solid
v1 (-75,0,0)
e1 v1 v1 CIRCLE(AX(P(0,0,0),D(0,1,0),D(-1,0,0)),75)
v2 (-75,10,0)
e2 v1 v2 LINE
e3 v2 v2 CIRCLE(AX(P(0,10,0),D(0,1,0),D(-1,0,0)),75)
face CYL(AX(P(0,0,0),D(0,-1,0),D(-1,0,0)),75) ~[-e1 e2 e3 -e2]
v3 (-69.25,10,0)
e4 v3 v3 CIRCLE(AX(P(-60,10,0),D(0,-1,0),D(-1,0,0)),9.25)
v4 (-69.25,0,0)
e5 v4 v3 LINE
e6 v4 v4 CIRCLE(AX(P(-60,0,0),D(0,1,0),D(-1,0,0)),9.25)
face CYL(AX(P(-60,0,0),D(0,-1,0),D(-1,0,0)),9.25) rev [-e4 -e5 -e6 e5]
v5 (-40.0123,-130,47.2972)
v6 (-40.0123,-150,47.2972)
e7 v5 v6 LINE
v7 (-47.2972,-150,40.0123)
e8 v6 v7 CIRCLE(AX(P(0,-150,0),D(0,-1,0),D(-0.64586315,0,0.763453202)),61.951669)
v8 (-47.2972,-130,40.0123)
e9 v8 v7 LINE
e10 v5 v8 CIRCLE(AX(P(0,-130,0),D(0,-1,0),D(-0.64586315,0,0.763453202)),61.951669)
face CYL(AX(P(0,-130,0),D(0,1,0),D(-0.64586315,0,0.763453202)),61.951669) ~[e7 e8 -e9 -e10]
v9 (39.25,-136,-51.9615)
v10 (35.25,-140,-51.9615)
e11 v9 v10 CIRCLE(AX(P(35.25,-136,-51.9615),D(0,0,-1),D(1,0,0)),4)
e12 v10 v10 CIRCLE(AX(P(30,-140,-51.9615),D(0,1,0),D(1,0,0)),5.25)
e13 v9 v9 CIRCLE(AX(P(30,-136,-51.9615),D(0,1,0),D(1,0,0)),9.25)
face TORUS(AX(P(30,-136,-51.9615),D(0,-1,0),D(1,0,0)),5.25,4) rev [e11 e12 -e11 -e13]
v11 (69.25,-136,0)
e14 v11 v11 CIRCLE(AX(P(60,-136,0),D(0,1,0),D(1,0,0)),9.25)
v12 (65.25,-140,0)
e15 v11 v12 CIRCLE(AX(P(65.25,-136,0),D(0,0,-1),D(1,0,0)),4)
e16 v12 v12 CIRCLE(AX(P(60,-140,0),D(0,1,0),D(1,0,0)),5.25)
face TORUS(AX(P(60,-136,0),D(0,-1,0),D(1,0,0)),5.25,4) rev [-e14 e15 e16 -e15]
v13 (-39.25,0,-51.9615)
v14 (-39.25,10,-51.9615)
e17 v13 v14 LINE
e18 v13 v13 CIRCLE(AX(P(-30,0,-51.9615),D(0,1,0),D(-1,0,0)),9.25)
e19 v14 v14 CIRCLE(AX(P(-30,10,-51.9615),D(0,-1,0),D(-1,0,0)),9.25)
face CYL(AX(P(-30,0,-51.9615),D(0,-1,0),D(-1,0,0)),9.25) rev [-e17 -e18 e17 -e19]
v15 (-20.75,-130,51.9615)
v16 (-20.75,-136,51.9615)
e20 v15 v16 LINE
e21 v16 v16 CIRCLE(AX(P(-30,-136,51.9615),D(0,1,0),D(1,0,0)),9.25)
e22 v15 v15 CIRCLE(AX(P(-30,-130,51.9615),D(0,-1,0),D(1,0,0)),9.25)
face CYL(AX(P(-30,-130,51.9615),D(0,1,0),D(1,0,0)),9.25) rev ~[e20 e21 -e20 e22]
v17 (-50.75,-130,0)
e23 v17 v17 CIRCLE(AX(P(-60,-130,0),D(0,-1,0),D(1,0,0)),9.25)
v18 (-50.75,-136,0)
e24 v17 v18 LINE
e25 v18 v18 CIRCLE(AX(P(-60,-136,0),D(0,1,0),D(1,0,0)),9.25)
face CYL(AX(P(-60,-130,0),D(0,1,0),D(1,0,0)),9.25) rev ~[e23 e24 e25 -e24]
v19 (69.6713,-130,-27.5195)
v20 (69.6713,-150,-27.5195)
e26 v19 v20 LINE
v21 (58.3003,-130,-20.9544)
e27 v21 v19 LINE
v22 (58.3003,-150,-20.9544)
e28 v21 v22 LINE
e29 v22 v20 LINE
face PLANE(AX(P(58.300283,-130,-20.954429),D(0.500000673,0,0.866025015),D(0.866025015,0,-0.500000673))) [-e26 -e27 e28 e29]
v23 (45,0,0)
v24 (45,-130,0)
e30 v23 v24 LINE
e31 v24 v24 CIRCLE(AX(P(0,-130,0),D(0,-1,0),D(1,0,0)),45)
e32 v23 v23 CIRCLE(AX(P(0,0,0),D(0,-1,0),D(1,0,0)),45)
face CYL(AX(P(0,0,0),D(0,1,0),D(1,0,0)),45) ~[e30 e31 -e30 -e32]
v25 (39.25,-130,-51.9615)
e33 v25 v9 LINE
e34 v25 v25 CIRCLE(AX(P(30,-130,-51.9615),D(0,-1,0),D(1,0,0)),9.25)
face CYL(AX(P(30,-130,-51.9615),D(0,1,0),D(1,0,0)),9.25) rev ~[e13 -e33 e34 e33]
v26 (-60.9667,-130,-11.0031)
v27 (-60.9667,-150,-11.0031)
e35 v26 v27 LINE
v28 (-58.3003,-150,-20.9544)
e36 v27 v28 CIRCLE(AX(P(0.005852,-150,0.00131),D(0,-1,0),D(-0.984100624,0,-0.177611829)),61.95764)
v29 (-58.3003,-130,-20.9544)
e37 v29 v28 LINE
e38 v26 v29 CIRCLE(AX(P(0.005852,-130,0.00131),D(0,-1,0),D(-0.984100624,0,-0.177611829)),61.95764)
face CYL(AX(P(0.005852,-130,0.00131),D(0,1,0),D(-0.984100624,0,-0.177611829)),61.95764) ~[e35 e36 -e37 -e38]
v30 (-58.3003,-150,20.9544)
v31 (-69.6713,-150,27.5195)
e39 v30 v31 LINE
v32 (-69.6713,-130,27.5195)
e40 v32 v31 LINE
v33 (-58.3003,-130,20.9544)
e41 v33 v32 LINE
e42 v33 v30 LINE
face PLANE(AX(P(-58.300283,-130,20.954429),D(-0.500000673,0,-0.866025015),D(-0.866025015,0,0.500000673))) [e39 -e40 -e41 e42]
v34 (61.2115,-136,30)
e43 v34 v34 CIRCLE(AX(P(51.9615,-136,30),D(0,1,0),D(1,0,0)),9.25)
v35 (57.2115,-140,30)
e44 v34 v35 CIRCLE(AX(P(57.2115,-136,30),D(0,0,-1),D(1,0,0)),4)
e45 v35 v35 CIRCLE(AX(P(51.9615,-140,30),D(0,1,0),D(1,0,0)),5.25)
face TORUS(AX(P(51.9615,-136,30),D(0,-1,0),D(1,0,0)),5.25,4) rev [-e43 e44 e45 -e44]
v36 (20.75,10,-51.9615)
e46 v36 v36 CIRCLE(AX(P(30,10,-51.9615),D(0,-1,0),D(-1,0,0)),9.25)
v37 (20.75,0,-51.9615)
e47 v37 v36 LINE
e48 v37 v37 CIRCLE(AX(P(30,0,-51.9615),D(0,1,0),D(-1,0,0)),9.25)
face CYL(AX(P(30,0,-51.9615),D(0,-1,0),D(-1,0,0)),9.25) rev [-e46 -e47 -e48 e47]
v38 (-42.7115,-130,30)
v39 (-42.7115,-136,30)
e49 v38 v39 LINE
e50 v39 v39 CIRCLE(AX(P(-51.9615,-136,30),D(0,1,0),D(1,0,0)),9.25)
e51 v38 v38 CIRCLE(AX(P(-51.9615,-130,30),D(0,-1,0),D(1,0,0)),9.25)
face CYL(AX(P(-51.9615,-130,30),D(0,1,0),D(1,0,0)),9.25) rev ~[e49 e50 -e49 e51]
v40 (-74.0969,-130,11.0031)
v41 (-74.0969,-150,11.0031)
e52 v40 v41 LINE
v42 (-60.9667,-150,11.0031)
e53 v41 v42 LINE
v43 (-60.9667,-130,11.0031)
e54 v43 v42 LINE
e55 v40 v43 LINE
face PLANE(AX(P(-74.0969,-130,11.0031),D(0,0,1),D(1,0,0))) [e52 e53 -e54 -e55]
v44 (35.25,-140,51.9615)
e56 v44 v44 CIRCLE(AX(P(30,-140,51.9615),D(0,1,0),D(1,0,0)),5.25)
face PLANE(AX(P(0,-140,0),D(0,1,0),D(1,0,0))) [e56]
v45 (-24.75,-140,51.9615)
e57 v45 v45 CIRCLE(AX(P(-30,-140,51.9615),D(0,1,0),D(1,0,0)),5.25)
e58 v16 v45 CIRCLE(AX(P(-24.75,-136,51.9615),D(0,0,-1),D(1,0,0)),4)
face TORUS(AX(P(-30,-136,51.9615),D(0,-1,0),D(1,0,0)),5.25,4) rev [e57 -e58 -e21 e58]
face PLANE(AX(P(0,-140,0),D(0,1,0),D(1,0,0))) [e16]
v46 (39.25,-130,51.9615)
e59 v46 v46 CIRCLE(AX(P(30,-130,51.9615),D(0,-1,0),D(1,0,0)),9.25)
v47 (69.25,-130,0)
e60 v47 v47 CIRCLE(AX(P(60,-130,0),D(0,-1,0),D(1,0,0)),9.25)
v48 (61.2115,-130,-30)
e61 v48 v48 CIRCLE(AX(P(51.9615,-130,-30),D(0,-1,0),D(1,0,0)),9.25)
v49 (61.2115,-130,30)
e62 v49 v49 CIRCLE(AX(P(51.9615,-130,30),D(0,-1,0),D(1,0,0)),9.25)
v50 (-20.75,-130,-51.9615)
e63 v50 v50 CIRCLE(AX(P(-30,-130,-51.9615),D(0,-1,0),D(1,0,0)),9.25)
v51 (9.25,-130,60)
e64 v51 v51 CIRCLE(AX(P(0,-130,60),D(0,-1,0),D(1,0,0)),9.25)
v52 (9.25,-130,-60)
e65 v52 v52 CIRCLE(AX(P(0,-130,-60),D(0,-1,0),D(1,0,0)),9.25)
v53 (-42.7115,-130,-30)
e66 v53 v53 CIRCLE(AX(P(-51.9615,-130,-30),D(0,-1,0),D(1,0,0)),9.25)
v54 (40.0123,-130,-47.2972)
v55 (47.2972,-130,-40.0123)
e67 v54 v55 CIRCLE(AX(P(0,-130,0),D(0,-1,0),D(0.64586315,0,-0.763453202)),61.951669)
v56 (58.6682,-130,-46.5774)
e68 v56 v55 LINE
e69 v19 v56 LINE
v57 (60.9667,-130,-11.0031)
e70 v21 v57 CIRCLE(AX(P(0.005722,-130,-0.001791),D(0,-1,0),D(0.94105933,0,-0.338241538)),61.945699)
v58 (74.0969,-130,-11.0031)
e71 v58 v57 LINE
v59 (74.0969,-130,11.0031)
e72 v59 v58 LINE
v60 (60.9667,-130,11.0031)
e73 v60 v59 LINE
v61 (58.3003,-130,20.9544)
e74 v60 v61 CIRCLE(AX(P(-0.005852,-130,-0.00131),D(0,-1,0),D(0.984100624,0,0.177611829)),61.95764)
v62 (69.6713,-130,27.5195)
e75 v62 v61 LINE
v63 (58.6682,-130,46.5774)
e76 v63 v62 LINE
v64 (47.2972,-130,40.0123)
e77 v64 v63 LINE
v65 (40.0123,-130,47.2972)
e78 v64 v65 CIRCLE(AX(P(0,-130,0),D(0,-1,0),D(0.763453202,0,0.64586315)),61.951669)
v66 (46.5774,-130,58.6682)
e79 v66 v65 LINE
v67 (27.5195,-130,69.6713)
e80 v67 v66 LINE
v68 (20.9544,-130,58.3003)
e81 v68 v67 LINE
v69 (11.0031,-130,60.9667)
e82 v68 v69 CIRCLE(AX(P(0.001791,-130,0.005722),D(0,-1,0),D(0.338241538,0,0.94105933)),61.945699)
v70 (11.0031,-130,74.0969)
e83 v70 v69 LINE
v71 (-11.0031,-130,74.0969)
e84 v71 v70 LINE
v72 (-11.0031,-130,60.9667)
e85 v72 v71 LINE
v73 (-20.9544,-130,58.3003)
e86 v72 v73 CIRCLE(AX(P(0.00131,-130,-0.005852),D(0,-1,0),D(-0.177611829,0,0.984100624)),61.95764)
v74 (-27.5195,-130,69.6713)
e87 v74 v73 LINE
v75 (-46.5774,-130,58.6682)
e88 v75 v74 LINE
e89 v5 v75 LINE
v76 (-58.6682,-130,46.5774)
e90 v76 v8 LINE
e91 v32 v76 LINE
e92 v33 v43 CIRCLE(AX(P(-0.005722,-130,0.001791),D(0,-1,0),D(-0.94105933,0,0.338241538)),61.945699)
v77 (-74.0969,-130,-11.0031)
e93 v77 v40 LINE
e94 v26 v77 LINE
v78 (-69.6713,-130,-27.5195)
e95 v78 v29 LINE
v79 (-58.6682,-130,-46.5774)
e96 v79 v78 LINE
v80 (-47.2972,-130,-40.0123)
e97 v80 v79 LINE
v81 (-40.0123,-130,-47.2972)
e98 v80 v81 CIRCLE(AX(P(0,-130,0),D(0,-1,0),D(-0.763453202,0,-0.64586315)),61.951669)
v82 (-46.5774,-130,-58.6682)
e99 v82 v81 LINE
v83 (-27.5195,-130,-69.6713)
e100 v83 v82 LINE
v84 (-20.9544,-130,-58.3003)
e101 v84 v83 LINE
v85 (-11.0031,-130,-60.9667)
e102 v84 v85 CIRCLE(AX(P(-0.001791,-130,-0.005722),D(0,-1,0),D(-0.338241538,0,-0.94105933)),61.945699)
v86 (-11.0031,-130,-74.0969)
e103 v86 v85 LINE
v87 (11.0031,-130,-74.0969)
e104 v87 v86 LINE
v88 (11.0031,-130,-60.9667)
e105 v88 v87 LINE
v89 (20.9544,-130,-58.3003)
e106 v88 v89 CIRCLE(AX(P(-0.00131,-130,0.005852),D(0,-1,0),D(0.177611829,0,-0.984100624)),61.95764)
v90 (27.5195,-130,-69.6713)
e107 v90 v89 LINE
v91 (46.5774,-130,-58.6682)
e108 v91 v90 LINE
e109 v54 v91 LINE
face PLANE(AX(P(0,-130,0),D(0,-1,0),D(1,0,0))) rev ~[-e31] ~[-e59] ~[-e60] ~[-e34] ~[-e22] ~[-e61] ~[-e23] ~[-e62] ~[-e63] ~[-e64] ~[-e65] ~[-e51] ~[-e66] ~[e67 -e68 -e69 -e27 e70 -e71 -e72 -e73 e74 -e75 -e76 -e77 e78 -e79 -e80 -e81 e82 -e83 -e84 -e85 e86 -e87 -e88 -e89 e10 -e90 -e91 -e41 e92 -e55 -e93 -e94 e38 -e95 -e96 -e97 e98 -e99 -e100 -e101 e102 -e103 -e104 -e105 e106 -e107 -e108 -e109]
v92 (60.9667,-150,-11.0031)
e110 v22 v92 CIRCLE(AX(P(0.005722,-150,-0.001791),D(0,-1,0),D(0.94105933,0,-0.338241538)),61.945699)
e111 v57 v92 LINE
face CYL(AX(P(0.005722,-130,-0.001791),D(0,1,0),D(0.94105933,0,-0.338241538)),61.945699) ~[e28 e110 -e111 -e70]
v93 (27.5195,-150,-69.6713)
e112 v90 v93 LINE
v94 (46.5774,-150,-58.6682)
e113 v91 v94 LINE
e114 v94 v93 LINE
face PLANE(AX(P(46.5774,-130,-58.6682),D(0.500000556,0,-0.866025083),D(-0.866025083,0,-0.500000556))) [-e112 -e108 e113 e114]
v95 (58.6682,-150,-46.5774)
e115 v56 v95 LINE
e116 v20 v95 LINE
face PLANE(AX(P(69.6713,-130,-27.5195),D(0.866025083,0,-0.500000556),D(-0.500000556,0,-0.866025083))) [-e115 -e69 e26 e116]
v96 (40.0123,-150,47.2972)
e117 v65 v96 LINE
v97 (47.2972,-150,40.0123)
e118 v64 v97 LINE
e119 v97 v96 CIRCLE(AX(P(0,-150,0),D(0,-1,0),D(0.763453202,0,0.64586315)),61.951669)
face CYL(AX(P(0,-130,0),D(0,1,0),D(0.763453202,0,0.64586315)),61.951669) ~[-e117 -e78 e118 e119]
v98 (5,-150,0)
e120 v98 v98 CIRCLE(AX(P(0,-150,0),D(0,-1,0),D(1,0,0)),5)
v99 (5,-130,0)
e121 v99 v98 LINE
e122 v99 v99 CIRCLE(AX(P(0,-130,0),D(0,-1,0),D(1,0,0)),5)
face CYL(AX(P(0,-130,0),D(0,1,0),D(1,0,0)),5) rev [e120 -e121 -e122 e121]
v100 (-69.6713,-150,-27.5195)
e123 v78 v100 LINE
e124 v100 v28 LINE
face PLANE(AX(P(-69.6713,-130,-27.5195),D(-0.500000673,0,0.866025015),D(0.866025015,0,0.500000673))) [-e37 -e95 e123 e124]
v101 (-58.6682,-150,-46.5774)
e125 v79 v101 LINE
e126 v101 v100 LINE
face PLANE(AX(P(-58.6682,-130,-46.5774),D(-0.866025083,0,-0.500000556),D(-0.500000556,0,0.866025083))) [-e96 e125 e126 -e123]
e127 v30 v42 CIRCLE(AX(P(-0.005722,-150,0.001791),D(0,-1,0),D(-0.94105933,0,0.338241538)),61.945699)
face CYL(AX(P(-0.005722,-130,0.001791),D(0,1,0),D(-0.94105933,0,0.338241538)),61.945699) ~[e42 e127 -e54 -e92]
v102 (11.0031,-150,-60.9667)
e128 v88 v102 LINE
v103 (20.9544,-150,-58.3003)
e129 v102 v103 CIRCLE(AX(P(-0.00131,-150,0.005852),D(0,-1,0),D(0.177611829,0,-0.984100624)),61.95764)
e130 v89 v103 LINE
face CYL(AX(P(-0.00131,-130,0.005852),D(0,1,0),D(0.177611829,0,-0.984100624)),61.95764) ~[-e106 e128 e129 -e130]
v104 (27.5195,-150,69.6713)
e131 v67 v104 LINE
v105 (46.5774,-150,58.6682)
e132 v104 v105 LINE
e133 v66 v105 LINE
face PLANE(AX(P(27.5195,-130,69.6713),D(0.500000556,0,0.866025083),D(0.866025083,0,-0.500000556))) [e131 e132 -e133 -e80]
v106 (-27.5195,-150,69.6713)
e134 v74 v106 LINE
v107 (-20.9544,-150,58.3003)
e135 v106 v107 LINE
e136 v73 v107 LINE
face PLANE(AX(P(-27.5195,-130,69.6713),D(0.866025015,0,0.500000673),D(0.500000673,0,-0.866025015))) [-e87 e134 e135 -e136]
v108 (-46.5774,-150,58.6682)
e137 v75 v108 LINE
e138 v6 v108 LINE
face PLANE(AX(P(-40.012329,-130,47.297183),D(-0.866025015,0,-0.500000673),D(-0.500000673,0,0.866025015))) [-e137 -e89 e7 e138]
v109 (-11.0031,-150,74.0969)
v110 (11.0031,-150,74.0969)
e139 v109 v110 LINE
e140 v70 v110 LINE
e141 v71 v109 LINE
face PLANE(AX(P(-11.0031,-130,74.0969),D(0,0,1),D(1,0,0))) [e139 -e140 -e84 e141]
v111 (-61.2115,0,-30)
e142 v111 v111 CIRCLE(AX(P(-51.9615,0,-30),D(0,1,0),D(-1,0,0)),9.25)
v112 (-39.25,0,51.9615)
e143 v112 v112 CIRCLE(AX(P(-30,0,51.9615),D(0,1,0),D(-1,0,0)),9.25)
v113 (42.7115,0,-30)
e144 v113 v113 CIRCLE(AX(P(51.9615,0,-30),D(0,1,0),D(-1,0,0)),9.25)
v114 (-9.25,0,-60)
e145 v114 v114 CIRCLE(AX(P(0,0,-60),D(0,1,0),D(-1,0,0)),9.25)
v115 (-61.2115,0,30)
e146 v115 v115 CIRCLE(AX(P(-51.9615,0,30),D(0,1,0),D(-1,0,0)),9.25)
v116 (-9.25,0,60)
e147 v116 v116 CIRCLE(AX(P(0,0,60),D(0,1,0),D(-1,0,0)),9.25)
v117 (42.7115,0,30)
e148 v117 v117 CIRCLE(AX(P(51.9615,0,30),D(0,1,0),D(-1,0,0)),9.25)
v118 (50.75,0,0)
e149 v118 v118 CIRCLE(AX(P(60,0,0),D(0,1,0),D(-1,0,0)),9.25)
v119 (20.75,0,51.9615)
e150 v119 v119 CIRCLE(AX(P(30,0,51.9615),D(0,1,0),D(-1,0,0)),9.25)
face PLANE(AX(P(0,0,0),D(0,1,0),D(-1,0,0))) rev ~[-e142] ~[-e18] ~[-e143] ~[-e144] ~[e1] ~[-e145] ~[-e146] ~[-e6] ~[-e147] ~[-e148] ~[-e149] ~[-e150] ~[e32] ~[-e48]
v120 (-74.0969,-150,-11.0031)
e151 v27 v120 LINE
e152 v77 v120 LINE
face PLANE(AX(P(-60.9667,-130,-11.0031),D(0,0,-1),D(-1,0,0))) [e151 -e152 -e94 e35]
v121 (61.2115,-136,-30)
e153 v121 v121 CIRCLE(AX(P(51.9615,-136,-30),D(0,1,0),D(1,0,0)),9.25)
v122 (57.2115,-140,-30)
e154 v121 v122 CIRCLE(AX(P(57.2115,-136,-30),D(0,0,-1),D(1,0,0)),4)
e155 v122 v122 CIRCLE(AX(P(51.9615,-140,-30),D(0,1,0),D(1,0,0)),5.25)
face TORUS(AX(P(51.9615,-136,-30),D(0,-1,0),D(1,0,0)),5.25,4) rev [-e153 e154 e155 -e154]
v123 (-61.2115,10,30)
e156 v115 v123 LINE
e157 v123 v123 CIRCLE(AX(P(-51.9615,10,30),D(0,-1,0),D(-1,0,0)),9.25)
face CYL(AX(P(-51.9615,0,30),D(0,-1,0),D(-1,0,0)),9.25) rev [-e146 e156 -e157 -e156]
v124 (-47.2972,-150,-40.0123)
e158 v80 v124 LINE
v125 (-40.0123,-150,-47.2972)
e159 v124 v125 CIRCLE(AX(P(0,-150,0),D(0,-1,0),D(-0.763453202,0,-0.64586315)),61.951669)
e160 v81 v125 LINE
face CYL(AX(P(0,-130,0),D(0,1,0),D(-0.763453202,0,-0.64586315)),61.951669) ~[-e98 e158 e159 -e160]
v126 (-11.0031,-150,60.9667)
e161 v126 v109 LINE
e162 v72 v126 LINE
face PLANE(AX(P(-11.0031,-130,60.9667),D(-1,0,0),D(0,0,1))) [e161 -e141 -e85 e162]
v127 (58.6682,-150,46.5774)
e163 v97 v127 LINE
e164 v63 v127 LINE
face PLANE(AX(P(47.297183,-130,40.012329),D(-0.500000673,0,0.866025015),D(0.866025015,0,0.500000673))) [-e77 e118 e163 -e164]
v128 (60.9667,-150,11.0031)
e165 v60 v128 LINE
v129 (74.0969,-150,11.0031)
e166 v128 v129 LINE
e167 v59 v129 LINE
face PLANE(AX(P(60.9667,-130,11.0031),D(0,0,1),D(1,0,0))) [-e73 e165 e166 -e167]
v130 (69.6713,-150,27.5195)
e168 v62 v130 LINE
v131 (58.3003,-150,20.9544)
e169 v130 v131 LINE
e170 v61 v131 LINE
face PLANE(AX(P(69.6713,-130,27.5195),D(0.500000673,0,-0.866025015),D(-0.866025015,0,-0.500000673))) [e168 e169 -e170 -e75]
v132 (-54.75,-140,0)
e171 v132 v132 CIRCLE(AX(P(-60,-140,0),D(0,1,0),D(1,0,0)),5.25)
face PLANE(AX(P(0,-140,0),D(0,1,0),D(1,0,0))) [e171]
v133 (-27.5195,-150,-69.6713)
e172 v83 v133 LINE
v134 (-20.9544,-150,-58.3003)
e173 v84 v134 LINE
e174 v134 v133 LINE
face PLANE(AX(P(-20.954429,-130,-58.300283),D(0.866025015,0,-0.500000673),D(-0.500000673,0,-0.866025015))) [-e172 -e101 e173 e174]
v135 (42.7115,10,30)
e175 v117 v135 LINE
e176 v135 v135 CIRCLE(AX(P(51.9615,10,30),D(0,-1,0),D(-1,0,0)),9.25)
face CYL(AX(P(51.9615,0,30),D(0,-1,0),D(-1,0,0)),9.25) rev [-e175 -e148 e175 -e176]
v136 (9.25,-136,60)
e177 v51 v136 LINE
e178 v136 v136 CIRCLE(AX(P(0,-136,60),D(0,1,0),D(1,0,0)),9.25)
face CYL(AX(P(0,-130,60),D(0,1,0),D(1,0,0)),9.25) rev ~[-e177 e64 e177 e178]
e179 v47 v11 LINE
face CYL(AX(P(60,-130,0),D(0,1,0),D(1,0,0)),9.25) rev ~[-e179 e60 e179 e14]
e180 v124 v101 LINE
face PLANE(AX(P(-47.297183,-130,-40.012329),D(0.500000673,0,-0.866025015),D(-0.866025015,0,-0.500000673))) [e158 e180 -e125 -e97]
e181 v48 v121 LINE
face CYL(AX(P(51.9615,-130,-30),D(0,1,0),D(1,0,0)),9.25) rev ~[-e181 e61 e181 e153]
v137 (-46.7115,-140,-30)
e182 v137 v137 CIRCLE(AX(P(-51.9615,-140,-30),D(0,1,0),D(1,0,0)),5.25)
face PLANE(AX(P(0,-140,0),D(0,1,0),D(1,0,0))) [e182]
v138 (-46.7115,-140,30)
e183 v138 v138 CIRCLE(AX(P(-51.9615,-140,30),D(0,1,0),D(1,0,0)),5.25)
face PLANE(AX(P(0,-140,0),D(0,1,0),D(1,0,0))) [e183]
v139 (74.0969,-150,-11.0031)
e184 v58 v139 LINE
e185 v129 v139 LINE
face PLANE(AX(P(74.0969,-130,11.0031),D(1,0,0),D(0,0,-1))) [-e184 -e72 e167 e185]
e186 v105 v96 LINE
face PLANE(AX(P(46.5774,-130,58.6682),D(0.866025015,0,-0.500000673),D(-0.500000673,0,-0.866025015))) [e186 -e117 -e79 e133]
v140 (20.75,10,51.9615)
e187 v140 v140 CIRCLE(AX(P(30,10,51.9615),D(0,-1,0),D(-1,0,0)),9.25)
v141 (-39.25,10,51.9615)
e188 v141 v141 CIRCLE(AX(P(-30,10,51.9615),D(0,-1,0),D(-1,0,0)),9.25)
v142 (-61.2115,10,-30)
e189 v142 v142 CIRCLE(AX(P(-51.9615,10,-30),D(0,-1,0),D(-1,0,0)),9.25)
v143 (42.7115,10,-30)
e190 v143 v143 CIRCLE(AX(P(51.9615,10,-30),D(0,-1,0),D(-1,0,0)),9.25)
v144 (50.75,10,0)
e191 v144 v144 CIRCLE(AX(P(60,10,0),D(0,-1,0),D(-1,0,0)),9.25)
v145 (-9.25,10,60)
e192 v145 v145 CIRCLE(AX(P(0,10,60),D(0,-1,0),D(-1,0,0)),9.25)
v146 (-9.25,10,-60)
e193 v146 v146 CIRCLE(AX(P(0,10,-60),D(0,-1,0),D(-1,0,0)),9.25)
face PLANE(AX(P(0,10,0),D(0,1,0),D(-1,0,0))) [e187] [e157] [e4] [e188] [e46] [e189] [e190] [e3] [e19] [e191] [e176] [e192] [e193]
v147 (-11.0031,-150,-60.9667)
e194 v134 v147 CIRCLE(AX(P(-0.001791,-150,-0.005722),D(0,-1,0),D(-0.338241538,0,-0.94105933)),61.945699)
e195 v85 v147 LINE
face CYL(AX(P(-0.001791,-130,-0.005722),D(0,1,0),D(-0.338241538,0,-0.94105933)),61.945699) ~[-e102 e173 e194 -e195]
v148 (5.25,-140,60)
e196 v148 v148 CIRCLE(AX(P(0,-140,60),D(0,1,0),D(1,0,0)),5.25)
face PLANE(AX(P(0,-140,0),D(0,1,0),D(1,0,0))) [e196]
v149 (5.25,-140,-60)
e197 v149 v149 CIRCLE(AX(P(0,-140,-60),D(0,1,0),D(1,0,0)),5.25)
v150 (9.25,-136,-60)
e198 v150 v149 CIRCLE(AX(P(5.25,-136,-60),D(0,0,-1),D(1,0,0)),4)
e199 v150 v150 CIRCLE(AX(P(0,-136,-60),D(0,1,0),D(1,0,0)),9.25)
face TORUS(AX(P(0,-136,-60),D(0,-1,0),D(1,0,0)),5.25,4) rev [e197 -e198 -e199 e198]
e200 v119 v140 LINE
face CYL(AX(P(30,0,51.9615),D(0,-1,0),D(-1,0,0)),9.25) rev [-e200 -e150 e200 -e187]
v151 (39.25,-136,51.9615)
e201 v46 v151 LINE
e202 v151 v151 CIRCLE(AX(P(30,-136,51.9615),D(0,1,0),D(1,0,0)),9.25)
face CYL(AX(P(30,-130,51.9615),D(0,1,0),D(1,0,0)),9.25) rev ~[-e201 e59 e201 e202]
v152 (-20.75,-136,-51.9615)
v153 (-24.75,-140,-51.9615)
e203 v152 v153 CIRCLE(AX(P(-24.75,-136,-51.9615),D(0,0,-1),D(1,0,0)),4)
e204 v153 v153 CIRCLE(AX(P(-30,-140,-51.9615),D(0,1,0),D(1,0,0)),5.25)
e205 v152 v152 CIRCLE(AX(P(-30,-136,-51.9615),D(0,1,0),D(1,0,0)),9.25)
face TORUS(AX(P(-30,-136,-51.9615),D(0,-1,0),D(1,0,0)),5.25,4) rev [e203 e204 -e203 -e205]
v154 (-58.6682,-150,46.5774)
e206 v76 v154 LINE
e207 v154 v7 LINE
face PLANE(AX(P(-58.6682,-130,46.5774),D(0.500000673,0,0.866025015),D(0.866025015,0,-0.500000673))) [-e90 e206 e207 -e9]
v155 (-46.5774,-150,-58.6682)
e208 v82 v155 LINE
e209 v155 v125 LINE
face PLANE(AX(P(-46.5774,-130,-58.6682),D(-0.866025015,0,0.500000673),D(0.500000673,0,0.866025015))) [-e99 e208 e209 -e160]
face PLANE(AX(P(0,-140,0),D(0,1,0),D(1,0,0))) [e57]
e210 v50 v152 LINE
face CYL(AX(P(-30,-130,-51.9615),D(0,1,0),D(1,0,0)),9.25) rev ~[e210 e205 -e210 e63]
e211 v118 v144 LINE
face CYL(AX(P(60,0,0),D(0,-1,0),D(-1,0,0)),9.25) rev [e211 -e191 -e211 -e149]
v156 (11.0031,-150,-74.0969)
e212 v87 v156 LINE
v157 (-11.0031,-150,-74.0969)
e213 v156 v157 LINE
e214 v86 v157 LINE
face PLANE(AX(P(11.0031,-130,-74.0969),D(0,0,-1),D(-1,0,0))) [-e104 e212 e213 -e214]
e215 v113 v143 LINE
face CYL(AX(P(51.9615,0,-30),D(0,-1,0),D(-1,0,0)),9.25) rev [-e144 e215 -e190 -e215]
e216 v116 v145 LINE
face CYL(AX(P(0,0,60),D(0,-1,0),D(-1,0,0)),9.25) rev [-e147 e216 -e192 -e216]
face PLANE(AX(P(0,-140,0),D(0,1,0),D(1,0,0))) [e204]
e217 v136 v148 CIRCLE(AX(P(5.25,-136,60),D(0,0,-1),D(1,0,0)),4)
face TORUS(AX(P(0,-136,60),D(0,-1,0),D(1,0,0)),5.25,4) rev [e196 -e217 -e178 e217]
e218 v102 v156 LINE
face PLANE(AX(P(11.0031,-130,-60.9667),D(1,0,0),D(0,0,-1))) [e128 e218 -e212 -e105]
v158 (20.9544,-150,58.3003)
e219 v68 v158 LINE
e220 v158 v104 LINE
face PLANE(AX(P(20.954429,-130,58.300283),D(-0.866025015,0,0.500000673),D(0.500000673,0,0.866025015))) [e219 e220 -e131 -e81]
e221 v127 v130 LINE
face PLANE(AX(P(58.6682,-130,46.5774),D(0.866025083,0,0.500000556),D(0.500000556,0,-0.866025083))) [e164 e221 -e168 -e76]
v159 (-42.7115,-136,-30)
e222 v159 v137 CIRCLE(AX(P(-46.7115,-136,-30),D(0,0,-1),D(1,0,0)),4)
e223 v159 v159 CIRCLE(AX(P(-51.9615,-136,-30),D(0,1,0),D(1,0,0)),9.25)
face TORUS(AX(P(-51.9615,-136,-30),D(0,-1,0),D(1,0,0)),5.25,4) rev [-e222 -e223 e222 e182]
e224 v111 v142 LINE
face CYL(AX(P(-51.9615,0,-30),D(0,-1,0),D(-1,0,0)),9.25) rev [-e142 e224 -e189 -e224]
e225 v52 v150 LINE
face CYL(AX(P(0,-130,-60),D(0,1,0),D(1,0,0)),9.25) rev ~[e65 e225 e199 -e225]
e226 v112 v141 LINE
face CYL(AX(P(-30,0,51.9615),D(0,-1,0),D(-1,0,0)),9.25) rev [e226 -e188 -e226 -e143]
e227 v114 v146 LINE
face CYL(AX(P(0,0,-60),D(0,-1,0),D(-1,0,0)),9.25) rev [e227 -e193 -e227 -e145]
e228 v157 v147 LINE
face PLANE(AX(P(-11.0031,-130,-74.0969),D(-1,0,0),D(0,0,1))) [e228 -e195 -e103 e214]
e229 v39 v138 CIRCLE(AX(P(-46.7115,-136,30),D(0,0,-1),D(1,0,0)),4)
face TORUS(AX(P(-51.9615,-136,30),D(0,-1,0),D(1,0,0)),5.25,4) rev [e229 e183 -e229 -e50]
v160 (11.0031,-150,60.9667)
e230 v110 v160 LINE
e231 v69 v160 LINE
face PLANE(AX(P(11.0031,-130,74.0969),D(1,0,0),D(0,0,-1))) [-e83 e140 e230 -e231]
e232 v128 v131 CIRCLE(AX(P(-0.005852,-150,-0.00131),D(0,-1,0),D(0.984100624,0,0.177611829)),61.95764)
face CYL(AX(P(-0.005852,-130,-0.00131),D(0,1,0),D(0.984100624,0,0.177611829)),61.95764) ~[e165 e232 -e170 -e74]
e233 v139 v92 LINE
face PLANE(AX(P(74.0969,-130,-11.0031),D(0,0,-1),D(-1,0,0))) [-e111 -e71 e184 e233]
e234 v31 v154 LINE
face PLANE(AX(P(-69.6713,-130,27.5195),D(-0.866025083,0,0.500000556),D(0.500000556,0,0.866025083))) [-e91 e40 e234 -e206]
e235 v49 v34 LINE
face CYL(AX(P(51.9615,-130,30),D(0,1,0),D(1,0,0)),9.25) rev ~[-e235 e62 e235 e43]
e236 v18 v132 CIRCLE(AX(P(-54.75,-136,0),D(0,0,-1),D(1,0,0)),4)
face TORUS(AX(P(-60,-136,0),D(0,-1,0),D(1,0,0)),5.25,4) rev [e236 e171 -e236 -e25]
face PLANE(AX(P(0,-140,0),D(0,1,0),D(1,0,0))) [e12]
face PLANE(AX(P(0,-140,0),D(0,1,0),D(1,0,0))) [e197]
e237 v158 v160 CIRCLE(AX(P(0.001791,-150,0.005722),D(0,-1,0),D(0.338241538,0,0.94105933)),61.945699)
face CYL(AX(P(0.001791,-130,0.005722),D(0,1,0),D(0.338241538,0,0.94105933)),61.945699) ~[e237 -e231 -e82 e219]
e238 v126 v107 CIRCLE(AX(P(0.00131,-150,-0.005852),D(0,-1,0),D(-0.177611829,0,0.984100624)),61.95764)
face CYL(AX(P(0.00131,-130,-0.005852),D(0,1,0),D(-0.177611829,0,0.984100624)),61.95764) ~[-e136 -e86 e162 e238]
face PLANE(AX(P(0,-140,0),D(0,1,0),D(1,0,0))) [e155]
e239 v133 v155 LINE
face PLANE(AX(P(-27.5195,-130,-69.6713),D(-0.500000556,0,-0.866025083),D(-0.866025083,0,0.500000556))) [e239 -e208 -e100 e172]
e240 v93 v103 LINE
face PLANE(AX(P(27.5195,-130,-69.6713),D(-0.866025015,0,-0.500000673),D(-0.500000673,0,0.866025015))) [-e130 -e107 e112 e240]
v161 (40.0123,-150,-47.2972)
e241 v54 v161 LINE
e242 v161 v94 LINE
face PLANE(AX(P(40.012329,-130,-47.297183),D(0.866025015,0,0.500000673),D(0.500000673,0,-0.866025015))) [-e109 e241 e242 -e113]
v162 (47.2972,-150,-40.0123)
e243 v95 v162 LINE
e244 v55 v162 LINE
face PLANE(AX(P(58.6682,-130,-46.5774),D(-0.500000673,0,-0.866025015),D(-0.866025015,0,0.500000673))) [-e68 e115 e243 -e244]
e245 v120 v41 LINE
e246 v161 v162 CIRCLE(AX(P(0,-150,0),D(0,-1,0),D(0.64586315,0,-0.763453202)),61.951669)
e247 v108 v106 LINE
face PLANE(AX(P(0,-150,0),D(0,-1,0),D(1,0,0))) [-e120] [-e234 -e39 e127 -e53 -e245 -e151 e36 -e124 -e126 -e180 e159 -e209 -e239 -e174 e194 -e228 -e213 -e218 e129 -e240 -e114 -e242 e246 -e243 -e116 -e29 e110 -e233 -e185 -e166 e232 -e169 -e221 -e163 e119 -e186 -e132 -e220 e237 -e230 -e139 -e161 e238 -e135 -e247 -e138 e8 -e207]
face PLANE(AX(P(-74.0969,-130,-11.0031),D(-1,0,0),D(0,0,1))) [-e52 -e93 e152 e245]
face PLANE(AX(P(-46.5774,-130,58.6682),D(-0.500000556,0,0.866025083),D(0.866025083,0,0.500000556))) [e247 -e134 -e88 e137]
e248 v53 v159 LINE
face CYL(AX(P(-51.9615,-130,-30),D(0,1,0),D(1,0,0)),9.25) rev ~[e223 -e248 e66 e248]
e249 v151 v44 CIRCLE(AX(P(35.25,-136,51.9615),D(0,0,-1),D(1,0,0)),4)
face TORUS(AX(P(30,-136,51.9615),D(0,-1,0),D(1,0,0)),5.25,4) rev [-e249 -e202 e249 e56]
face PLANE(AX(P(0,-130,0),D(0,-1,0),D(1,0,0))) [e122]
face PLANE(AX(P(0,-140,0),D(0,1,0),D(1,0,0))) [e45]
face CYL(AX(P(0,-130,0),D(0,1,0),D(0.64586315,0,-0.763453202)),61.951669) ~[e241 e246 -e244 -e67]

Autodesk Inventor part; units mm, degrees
ref_plane "YZ Plane" through (0, 0, 0) normal (1, 0, 0) x (0, 1, 0)
ref_plane "XZ Plane" through (0, 0, 0) normal (0, 1, 0) x (-1, 0, 0)
ref_plane "XY Plane" through (0, 0, 0) normal (0, 0, 1) x (1, 0, 0)
sketch "Sketch1" plane through (0, 0, 0) normal (0, 1, 0) x (-1, 0, 0)
  circle A0 centre (0, 0) radius 75
  circle A1 centre (0, 0) radius 60
  circle A2 centre (0, 60) radius 9.25
  circle A3 centre (-30, 51.9615) radius 9.25
  circle A4 centre (-51.9615, 30) radius 9.25
  circle A5 centre (-60, 0) radius 9.25
  circle A6 centre (-51.9615, -30) radius 9.25
  circle A7 centre (-30, -51.9615) radius 9.25
  circle A8 centre (0, -60) radius 9.25
  circle A9 centre (30, -51.9615) radius 9.25
  circle A10 centre (51.9615, -30) radius 9.25
  circle A11 centre (60, 0) radius 9.25
  circle A12 centre (51.9615, 30) radius 9.25
  circle A13 centre (30, 51.9615) radius 9.25
  dimension "d1" = 120
  dimension "d0" = 150
  dimension "d2" = 18.5
  dimension "d5" = 360
extrude "Extrusion1" add sketch "Sketch1" along normal blind 10 contours A0 | A11 A1 A10 A9 A8 A7 A6 A5 A4 A3 A2 A13 A12
sketch "Sketch2" plane through (0, 0, 0) normal (0, -1, 0) x (1, 0, 0)
  circle A0 centre (0, 0) radius 45
  dimension "d9" = 90
extrude "Extrusion2" add sketch "Sketch2" along normal blind 130
sketch "Sketch3" plane through (0, -130, 0) normal (0, -1, 0) x (1, 0, 0)
  circle A0 centre (0, 0) radius 5
  line L0 (-11.0031, 74.0969) -> (11.0031, 74.0969)
  line L1 (11.0031, 74.0969) -> (11.0031, 56.269)
  line L2 (11.0031, 56.269) -> (-11.0031, 56.269)
  line L3 (-11.0031, 56.269) -> (-11.0031, 74.0969)
  line L4 (11.0031, 74.0969) -> (0, 65.183) construction
  line L5 (-27.5195, 69.6713) -> (-18.6056, 54.232)
  line L6 (-18.6056, 54.232) -> (-37.6635, 43.2289)
  line L7 (-37.6635, 43.2289) -> (-46.5774, 58.6682)
  line L8 (-46.5774, 58.6682) -> (-27.5195, 69.6713)
  line L9 (-58.6682, 46.5774) -> (-43.2289, 37.6635)
  line L10 (-43.2289, 37.6635) -> (-54.232, 18.6056)
  line L11 (-54.232, 18.6056) -> (-69.6713, 27.5195)
  line L12 (-69.6713, 27.5195) -> (-58.6682, 46.5774)
  line L13 (-74.0969, 11.0031) -> (-56.269, 11.0031)
  line L14 (-56.269, 11.0031) -> (-56.269, -11.0031)
  line L15 (-56.269, -11.0031) -> (-74.0969, -11.0031)
  line L16 (-74.0969, -11.0031) -> (-74.0969, 11.0031)
  line L17 (-69.6713, -27.5195) -> (-54.232, -18.6056)
  line L18 (-54.232, -18.6056) -> (-43.2289, -37.6635)
  line L19 (-43.2289, -37.6635) -> (-58.6682, -46.5774)
  line L20 (-58.6682, -46.5774) -> (-69.6713, -27.5195)
  line L21 (-46.5774, -58.6682) -> (-37.6635, -43.2289)
  line L22 (-37.6635, -43.2289) -> (-18.6056, -54.232)
  line L23 (-18.6056, -54.232) -> (-27.5195, -69.6713)
  line L24 (-27.5195, -69.6713) -> (-46.5774, -58.6682)
  line L25 (-11.0031, -74.0969) -> (-11.0031, -56.269)
  line L26 (-11.0031, -56.269) -> (11.0031, -56.269)
  line L27 (11.0031, -56.269) -> (11.0031, -74.0969)
  line L28 (11.0031, -74.0969) -> (-11.0031, -74.0969)
  line L29 (27.5195, -69.6713) -> (18.6056, -54.232)
  line L30 (18.6056, -54.232) -> (37.6635, -43.2289)
  line L31 (37.6635, -43.2289) -> (46.5774, -58.6682)
  line L32 (46.5774, -58.6682) -> (27.5195, -69.6713)
  line L33 (58.6682, -46.5774) -> (43.2289, -37.6635)
  line L34 (43.2289, -37.6635) -> (54.232, -18.6056)
  line L35 (54.232, -18.6056) -> (69.6713, -27.5195)
  line L36 (69.6713, -27.5195) -> (58.6682, -46.5774)
  line L37 (74.0969, -11.0031) -> (56.269, -11.0031)
  line L38 (56.269, -11.0031) -> (56.269, 11.0031)
  line L39 (56.269, 11.0031) -> (74.0969, 11.0031)
  line L40 (74.0969, 11.0031) -> (74.0969, -11.0031)
  line L41 (69.6713, 27.5195) -> (54.232, 18.6056)
  line L42 (54.232, 18.6056) -> (43.2289, 37.6635)
  line L43 (43.2289, 37.6635) -> (58.6682, 46.5774)
  line L44 (58.6682, 46.5774) -> (69.6713, 27.5195)
  line L45 (46.5774, 58.6682) -> (37.6635, 43.2289)
  line L46 (37.6635, 43.2289) -> (18.6056, 54.232)
  line L47 (18.6056, 54.232) -> (27.5195, 69.6713)
  line L48 (27.5195, 69.6713) -> (46.5774, 58.6682)
  arc A1 (-11.0031, 60.9667) -> (-20.9544, 58.3003) centre (0, 0) ccw
  arc A2 (20.9544, 58.3003) -> (11.0031, 60.9667) centre (0, 0) ccw
  arc A3 (47.2972, 40.0123) -> (40.0123, 47.2972) centre (0, 0) ccw
  arc A4 (-40.0123, 47.2972) -> (-47.2972, 40.0123) centre (0, 0) ccw
  arc A5 (-58.3003, 20.9544) -> (-60.9667, 11.0031) centre (0, 0) ccw
  arc A6 (-60.9667, -11.0031) -> (-58.3003, -20.9544) centre (0, 0) ccw
  arc A7 (-47.2972, -40.0123) -> (-40.0123, -47.2972) centre (0, 0) ccw
  arc A8 (-20.9544, -58.3003) -> (-11.0031, -60.9667) centre (0, 0) ccw
  arc A9 (11.0031, -60.9667) -> (20.9544, -58.3003) centre (0, 0) ccw
  arc A10 (40.0123, -47.2972) -> (47.2972, -40.0123) centre (0, 0) ccw
  arc A11 (58.3003, -20.9544) -> (60.9667, -11.0031) centre (0, 0) ccw
  arc A12 (60.9667, 11.0031) -> (58.3003, 20.9544) centre (0, 0) ccw
  dimension "d68" = 360
extrude "Extrusion9" add sketch "Sketch3" along normal blind 20
sketch "Sketch7" plane through (0, -130, 0) normal (0, 1, 0) x (1, 0, 0)
  circle A0 centre (0, 0) radius 5 projected
  circle A1 centre (0, 0) radius 60
  circle A2 centre (-60, 0) radius 9.25
  circle A3 centre (-51.9615, -30) radius 9.25
  circle A4 centre (-30, -51.9615) radius 9.25
  circle A5 centre (0, -60) radius 9.25
  circle A6 centre (30, -51.9615) radius 9.25
  circle A7 centre (51.9615, -30) radius 9.25
  circle A8 centre (60, 0) radius 9.25
  circle A9 centre (51.9615, 30) radius 9.25
  circle A10 centre (30, 51.9615) radius 9.25
  circle A11 centre (0, 60) radius 9.25
  circle A12 centre (-30, 51.9615) radius 9.25
  circle A13 centre (-51.9615, 30) radius 9.25
  dimension "d71" = 120
  dimension "d72" = 18.5
  dimension "d75" = 360
extrude "Extrusion10" cut sketch "Sketch7" against normal blind 10 contours A1 A8 | A1 A8 | A9 A1 | A1 A9 | A7 A1 | A1 A7 | A10 A1 | A1 A10 | A6 A1 | A1 A6 | A11 A1 | A1 A11 | A5 A1 | A1 A5 | A12 A1 | A1 A12 | A4 A1 | A1 A4 | A13 A1 | A1 A13 | A3 A1 | A1 A3 | A2 A1 | A1 A2
fillet "Fillet1" radius 4 12 edges at (-69.25, -140, 0) (-61.2115, -140, -30) (-61.2115, -140, 30) (-39.25, -140, 51.9615) (-9.25, -140, 60) (20.75, -140, 51.9615) (42.7115, -140, 30) (50.75, -140, 0) (-39.25, -140, -51.9615) (-9.25, -140, -60) (20.75, -140, -51.9615) (42.7115, -140, -30)
sketch "Sketch8" plane through (0, -150, 0) normal (0, -1, 0) x (1, 0, 0)
  circle A0 centre (0, 0) radius 62.2015
  line L0 (11.5029, -60.4669) -> (-11.5031, -60.4669)
  line L1 (-11.5031, -60.4669) -> (-11.5031, -74.5969)
  line L2 (-11.0031, -60.9667) -> (-11.0031, -74.0969) projected
  line L3 (11.0031, -74.0969) -> (11.0031, -60.9667) projected
  line L4 (-11.5031, -74.5969) -> (11.5029, -74.5969)
  line L5 (11.5029, -60.4669) -> (11.5029, -74.5969)
  line L6 (-11.0031, -74.0969) -> (11.0031, -74.0969) projected
  line L7 (40.1952, -46.6144) -> (20.2715, -58.1174)
  line L8 (40.1952, -46.6144) -> (47.2602, -58.8513)
  line L9 (27.3365, -70.3543) -> (47.2602, -58.8513)
  line L10 (20.2715, -58.1174) -> (27.3365, -70.3543)
  line L11 (58.1173, -20.2716) -> (46.6143, -40.1954)
  line L12 (58.1173, -20.2716) -> (70.3542, -27.3366)
  line L13 (58.8512, -47.2604) -> (70.3542, -27.3366)
  line L14 (46.6143, -40.1954) -> (58.8512, -47.2604)
  line L15 (60.4669, 11.5029) -> (60.4669, -11.5031)
  line L16 (60.4669, 11.5029) -> (74.5969, 11.5029)
  line L17 (74.5969, -11.5031) -> (74.5969, 11.5029)
  line L18 (60.4669, -11.5031) -> (74.5969, -11.5031)
  line L19 (46.6144, 40.1952) -> (58.1174, 20.2715)
  line L20 (46.6144, 40.1952) -> (58.8513, 47.2602)
  line L21 (70.3543, 27.3365) -> (58.8513, 47.2602)
  line L22 (58.1174, 20.2715) -> (70.3543, 27.3365)
  line L23 (20.2716, 58.1173) -> (40.1954, 46.6143)
  line L24 (20.2716, 58.1173) -> (27.3366, 70.3542)
  line L25 (47.2604, 58.8512) -> (27.3366, 70.3542)
  line L26 (40.1954, 46.6143) -> (47.2604, 58.8512)
  line L27 (-11.5029, 60.4669) -> (11.5031, 60.4669)
  line L28 (-11.5029, 60.4669) -> (-11.5029, 74.5969)
  line L29 (11.5031, 74.5969) -> (-11.5029, 74.5969)
  line L30 (11.5031, 60.4669) -> (11.5031, 74.5969)
  line L31 (-40.1952, 46.6144) -> (-20.2715, 58.1174)
  line L32 (-40.1952, 46.6144) -> (-47.2602, 58.8513)
  line L33 (-27.3365, 70.3543) -> (-47.2602, 58.8513)
  line L34 (-20.2715, 58.1174) -> (-27.3365, 70.3543)
  line L35 (-58.1173, 20.2716) -> (-46.6143, 40.1954)
  line L36 (-58.1173, 20.2716) -> (-70.3542, 27.3366)
  line L37 (-58.8512, 47.2604) -> (-70.3542, 27.3366)
  line L38 (-46.6143, 40.1954) -> (-58.8512, 47.2604)
  line L39 (-60.4669, -11.5029) -> (-60.4669, 11.5031)
  line L40 (-60.4669, -11.5029) -> (-74.5969, -11.5029)
  line L41 (-74.5969, 11.5031) -> (-74.5969, -11.5029)
  line L42 (-60.4669, 11.5031) -> (-74.5969, 11.5031)
  line L43 (-46.6144, -40.1952) -> (-58.1174, -20.2715)
  line L44 (-46.6144, -40.1952) -> (-58.8513, -47.2602)
  line L45 (-70.3543, -27.3365) -> (-58.8513, -47.2602)
  line L46 (-58.1174, -20.2715) -> (-70.3543, -27.3365)
  line L47 (-20.2716, -58.1173) -> (-40.1954, -46.6143)
  line L48 (-20.2716, -58.1173) -> (-27.3366, -70.3542)
  line L49 (-47.2604, -58.8512) -> (-27.3366, -70.3542)
  line L50 (-40.1954, -46.6143) -> (-47.2604, -58.8512)
  dimension "d92" = 124.403
  dimension "d93" = 23.006
  dimension "d94" = 14.13
  dimension "d95" = 0.5
  dimension "d97" = 14.13
  dimension "d98" = 0.5
  dimension "d101" = 360
equation "\"d94\" = d97"
properties part number "12 Test Tube Rack"
